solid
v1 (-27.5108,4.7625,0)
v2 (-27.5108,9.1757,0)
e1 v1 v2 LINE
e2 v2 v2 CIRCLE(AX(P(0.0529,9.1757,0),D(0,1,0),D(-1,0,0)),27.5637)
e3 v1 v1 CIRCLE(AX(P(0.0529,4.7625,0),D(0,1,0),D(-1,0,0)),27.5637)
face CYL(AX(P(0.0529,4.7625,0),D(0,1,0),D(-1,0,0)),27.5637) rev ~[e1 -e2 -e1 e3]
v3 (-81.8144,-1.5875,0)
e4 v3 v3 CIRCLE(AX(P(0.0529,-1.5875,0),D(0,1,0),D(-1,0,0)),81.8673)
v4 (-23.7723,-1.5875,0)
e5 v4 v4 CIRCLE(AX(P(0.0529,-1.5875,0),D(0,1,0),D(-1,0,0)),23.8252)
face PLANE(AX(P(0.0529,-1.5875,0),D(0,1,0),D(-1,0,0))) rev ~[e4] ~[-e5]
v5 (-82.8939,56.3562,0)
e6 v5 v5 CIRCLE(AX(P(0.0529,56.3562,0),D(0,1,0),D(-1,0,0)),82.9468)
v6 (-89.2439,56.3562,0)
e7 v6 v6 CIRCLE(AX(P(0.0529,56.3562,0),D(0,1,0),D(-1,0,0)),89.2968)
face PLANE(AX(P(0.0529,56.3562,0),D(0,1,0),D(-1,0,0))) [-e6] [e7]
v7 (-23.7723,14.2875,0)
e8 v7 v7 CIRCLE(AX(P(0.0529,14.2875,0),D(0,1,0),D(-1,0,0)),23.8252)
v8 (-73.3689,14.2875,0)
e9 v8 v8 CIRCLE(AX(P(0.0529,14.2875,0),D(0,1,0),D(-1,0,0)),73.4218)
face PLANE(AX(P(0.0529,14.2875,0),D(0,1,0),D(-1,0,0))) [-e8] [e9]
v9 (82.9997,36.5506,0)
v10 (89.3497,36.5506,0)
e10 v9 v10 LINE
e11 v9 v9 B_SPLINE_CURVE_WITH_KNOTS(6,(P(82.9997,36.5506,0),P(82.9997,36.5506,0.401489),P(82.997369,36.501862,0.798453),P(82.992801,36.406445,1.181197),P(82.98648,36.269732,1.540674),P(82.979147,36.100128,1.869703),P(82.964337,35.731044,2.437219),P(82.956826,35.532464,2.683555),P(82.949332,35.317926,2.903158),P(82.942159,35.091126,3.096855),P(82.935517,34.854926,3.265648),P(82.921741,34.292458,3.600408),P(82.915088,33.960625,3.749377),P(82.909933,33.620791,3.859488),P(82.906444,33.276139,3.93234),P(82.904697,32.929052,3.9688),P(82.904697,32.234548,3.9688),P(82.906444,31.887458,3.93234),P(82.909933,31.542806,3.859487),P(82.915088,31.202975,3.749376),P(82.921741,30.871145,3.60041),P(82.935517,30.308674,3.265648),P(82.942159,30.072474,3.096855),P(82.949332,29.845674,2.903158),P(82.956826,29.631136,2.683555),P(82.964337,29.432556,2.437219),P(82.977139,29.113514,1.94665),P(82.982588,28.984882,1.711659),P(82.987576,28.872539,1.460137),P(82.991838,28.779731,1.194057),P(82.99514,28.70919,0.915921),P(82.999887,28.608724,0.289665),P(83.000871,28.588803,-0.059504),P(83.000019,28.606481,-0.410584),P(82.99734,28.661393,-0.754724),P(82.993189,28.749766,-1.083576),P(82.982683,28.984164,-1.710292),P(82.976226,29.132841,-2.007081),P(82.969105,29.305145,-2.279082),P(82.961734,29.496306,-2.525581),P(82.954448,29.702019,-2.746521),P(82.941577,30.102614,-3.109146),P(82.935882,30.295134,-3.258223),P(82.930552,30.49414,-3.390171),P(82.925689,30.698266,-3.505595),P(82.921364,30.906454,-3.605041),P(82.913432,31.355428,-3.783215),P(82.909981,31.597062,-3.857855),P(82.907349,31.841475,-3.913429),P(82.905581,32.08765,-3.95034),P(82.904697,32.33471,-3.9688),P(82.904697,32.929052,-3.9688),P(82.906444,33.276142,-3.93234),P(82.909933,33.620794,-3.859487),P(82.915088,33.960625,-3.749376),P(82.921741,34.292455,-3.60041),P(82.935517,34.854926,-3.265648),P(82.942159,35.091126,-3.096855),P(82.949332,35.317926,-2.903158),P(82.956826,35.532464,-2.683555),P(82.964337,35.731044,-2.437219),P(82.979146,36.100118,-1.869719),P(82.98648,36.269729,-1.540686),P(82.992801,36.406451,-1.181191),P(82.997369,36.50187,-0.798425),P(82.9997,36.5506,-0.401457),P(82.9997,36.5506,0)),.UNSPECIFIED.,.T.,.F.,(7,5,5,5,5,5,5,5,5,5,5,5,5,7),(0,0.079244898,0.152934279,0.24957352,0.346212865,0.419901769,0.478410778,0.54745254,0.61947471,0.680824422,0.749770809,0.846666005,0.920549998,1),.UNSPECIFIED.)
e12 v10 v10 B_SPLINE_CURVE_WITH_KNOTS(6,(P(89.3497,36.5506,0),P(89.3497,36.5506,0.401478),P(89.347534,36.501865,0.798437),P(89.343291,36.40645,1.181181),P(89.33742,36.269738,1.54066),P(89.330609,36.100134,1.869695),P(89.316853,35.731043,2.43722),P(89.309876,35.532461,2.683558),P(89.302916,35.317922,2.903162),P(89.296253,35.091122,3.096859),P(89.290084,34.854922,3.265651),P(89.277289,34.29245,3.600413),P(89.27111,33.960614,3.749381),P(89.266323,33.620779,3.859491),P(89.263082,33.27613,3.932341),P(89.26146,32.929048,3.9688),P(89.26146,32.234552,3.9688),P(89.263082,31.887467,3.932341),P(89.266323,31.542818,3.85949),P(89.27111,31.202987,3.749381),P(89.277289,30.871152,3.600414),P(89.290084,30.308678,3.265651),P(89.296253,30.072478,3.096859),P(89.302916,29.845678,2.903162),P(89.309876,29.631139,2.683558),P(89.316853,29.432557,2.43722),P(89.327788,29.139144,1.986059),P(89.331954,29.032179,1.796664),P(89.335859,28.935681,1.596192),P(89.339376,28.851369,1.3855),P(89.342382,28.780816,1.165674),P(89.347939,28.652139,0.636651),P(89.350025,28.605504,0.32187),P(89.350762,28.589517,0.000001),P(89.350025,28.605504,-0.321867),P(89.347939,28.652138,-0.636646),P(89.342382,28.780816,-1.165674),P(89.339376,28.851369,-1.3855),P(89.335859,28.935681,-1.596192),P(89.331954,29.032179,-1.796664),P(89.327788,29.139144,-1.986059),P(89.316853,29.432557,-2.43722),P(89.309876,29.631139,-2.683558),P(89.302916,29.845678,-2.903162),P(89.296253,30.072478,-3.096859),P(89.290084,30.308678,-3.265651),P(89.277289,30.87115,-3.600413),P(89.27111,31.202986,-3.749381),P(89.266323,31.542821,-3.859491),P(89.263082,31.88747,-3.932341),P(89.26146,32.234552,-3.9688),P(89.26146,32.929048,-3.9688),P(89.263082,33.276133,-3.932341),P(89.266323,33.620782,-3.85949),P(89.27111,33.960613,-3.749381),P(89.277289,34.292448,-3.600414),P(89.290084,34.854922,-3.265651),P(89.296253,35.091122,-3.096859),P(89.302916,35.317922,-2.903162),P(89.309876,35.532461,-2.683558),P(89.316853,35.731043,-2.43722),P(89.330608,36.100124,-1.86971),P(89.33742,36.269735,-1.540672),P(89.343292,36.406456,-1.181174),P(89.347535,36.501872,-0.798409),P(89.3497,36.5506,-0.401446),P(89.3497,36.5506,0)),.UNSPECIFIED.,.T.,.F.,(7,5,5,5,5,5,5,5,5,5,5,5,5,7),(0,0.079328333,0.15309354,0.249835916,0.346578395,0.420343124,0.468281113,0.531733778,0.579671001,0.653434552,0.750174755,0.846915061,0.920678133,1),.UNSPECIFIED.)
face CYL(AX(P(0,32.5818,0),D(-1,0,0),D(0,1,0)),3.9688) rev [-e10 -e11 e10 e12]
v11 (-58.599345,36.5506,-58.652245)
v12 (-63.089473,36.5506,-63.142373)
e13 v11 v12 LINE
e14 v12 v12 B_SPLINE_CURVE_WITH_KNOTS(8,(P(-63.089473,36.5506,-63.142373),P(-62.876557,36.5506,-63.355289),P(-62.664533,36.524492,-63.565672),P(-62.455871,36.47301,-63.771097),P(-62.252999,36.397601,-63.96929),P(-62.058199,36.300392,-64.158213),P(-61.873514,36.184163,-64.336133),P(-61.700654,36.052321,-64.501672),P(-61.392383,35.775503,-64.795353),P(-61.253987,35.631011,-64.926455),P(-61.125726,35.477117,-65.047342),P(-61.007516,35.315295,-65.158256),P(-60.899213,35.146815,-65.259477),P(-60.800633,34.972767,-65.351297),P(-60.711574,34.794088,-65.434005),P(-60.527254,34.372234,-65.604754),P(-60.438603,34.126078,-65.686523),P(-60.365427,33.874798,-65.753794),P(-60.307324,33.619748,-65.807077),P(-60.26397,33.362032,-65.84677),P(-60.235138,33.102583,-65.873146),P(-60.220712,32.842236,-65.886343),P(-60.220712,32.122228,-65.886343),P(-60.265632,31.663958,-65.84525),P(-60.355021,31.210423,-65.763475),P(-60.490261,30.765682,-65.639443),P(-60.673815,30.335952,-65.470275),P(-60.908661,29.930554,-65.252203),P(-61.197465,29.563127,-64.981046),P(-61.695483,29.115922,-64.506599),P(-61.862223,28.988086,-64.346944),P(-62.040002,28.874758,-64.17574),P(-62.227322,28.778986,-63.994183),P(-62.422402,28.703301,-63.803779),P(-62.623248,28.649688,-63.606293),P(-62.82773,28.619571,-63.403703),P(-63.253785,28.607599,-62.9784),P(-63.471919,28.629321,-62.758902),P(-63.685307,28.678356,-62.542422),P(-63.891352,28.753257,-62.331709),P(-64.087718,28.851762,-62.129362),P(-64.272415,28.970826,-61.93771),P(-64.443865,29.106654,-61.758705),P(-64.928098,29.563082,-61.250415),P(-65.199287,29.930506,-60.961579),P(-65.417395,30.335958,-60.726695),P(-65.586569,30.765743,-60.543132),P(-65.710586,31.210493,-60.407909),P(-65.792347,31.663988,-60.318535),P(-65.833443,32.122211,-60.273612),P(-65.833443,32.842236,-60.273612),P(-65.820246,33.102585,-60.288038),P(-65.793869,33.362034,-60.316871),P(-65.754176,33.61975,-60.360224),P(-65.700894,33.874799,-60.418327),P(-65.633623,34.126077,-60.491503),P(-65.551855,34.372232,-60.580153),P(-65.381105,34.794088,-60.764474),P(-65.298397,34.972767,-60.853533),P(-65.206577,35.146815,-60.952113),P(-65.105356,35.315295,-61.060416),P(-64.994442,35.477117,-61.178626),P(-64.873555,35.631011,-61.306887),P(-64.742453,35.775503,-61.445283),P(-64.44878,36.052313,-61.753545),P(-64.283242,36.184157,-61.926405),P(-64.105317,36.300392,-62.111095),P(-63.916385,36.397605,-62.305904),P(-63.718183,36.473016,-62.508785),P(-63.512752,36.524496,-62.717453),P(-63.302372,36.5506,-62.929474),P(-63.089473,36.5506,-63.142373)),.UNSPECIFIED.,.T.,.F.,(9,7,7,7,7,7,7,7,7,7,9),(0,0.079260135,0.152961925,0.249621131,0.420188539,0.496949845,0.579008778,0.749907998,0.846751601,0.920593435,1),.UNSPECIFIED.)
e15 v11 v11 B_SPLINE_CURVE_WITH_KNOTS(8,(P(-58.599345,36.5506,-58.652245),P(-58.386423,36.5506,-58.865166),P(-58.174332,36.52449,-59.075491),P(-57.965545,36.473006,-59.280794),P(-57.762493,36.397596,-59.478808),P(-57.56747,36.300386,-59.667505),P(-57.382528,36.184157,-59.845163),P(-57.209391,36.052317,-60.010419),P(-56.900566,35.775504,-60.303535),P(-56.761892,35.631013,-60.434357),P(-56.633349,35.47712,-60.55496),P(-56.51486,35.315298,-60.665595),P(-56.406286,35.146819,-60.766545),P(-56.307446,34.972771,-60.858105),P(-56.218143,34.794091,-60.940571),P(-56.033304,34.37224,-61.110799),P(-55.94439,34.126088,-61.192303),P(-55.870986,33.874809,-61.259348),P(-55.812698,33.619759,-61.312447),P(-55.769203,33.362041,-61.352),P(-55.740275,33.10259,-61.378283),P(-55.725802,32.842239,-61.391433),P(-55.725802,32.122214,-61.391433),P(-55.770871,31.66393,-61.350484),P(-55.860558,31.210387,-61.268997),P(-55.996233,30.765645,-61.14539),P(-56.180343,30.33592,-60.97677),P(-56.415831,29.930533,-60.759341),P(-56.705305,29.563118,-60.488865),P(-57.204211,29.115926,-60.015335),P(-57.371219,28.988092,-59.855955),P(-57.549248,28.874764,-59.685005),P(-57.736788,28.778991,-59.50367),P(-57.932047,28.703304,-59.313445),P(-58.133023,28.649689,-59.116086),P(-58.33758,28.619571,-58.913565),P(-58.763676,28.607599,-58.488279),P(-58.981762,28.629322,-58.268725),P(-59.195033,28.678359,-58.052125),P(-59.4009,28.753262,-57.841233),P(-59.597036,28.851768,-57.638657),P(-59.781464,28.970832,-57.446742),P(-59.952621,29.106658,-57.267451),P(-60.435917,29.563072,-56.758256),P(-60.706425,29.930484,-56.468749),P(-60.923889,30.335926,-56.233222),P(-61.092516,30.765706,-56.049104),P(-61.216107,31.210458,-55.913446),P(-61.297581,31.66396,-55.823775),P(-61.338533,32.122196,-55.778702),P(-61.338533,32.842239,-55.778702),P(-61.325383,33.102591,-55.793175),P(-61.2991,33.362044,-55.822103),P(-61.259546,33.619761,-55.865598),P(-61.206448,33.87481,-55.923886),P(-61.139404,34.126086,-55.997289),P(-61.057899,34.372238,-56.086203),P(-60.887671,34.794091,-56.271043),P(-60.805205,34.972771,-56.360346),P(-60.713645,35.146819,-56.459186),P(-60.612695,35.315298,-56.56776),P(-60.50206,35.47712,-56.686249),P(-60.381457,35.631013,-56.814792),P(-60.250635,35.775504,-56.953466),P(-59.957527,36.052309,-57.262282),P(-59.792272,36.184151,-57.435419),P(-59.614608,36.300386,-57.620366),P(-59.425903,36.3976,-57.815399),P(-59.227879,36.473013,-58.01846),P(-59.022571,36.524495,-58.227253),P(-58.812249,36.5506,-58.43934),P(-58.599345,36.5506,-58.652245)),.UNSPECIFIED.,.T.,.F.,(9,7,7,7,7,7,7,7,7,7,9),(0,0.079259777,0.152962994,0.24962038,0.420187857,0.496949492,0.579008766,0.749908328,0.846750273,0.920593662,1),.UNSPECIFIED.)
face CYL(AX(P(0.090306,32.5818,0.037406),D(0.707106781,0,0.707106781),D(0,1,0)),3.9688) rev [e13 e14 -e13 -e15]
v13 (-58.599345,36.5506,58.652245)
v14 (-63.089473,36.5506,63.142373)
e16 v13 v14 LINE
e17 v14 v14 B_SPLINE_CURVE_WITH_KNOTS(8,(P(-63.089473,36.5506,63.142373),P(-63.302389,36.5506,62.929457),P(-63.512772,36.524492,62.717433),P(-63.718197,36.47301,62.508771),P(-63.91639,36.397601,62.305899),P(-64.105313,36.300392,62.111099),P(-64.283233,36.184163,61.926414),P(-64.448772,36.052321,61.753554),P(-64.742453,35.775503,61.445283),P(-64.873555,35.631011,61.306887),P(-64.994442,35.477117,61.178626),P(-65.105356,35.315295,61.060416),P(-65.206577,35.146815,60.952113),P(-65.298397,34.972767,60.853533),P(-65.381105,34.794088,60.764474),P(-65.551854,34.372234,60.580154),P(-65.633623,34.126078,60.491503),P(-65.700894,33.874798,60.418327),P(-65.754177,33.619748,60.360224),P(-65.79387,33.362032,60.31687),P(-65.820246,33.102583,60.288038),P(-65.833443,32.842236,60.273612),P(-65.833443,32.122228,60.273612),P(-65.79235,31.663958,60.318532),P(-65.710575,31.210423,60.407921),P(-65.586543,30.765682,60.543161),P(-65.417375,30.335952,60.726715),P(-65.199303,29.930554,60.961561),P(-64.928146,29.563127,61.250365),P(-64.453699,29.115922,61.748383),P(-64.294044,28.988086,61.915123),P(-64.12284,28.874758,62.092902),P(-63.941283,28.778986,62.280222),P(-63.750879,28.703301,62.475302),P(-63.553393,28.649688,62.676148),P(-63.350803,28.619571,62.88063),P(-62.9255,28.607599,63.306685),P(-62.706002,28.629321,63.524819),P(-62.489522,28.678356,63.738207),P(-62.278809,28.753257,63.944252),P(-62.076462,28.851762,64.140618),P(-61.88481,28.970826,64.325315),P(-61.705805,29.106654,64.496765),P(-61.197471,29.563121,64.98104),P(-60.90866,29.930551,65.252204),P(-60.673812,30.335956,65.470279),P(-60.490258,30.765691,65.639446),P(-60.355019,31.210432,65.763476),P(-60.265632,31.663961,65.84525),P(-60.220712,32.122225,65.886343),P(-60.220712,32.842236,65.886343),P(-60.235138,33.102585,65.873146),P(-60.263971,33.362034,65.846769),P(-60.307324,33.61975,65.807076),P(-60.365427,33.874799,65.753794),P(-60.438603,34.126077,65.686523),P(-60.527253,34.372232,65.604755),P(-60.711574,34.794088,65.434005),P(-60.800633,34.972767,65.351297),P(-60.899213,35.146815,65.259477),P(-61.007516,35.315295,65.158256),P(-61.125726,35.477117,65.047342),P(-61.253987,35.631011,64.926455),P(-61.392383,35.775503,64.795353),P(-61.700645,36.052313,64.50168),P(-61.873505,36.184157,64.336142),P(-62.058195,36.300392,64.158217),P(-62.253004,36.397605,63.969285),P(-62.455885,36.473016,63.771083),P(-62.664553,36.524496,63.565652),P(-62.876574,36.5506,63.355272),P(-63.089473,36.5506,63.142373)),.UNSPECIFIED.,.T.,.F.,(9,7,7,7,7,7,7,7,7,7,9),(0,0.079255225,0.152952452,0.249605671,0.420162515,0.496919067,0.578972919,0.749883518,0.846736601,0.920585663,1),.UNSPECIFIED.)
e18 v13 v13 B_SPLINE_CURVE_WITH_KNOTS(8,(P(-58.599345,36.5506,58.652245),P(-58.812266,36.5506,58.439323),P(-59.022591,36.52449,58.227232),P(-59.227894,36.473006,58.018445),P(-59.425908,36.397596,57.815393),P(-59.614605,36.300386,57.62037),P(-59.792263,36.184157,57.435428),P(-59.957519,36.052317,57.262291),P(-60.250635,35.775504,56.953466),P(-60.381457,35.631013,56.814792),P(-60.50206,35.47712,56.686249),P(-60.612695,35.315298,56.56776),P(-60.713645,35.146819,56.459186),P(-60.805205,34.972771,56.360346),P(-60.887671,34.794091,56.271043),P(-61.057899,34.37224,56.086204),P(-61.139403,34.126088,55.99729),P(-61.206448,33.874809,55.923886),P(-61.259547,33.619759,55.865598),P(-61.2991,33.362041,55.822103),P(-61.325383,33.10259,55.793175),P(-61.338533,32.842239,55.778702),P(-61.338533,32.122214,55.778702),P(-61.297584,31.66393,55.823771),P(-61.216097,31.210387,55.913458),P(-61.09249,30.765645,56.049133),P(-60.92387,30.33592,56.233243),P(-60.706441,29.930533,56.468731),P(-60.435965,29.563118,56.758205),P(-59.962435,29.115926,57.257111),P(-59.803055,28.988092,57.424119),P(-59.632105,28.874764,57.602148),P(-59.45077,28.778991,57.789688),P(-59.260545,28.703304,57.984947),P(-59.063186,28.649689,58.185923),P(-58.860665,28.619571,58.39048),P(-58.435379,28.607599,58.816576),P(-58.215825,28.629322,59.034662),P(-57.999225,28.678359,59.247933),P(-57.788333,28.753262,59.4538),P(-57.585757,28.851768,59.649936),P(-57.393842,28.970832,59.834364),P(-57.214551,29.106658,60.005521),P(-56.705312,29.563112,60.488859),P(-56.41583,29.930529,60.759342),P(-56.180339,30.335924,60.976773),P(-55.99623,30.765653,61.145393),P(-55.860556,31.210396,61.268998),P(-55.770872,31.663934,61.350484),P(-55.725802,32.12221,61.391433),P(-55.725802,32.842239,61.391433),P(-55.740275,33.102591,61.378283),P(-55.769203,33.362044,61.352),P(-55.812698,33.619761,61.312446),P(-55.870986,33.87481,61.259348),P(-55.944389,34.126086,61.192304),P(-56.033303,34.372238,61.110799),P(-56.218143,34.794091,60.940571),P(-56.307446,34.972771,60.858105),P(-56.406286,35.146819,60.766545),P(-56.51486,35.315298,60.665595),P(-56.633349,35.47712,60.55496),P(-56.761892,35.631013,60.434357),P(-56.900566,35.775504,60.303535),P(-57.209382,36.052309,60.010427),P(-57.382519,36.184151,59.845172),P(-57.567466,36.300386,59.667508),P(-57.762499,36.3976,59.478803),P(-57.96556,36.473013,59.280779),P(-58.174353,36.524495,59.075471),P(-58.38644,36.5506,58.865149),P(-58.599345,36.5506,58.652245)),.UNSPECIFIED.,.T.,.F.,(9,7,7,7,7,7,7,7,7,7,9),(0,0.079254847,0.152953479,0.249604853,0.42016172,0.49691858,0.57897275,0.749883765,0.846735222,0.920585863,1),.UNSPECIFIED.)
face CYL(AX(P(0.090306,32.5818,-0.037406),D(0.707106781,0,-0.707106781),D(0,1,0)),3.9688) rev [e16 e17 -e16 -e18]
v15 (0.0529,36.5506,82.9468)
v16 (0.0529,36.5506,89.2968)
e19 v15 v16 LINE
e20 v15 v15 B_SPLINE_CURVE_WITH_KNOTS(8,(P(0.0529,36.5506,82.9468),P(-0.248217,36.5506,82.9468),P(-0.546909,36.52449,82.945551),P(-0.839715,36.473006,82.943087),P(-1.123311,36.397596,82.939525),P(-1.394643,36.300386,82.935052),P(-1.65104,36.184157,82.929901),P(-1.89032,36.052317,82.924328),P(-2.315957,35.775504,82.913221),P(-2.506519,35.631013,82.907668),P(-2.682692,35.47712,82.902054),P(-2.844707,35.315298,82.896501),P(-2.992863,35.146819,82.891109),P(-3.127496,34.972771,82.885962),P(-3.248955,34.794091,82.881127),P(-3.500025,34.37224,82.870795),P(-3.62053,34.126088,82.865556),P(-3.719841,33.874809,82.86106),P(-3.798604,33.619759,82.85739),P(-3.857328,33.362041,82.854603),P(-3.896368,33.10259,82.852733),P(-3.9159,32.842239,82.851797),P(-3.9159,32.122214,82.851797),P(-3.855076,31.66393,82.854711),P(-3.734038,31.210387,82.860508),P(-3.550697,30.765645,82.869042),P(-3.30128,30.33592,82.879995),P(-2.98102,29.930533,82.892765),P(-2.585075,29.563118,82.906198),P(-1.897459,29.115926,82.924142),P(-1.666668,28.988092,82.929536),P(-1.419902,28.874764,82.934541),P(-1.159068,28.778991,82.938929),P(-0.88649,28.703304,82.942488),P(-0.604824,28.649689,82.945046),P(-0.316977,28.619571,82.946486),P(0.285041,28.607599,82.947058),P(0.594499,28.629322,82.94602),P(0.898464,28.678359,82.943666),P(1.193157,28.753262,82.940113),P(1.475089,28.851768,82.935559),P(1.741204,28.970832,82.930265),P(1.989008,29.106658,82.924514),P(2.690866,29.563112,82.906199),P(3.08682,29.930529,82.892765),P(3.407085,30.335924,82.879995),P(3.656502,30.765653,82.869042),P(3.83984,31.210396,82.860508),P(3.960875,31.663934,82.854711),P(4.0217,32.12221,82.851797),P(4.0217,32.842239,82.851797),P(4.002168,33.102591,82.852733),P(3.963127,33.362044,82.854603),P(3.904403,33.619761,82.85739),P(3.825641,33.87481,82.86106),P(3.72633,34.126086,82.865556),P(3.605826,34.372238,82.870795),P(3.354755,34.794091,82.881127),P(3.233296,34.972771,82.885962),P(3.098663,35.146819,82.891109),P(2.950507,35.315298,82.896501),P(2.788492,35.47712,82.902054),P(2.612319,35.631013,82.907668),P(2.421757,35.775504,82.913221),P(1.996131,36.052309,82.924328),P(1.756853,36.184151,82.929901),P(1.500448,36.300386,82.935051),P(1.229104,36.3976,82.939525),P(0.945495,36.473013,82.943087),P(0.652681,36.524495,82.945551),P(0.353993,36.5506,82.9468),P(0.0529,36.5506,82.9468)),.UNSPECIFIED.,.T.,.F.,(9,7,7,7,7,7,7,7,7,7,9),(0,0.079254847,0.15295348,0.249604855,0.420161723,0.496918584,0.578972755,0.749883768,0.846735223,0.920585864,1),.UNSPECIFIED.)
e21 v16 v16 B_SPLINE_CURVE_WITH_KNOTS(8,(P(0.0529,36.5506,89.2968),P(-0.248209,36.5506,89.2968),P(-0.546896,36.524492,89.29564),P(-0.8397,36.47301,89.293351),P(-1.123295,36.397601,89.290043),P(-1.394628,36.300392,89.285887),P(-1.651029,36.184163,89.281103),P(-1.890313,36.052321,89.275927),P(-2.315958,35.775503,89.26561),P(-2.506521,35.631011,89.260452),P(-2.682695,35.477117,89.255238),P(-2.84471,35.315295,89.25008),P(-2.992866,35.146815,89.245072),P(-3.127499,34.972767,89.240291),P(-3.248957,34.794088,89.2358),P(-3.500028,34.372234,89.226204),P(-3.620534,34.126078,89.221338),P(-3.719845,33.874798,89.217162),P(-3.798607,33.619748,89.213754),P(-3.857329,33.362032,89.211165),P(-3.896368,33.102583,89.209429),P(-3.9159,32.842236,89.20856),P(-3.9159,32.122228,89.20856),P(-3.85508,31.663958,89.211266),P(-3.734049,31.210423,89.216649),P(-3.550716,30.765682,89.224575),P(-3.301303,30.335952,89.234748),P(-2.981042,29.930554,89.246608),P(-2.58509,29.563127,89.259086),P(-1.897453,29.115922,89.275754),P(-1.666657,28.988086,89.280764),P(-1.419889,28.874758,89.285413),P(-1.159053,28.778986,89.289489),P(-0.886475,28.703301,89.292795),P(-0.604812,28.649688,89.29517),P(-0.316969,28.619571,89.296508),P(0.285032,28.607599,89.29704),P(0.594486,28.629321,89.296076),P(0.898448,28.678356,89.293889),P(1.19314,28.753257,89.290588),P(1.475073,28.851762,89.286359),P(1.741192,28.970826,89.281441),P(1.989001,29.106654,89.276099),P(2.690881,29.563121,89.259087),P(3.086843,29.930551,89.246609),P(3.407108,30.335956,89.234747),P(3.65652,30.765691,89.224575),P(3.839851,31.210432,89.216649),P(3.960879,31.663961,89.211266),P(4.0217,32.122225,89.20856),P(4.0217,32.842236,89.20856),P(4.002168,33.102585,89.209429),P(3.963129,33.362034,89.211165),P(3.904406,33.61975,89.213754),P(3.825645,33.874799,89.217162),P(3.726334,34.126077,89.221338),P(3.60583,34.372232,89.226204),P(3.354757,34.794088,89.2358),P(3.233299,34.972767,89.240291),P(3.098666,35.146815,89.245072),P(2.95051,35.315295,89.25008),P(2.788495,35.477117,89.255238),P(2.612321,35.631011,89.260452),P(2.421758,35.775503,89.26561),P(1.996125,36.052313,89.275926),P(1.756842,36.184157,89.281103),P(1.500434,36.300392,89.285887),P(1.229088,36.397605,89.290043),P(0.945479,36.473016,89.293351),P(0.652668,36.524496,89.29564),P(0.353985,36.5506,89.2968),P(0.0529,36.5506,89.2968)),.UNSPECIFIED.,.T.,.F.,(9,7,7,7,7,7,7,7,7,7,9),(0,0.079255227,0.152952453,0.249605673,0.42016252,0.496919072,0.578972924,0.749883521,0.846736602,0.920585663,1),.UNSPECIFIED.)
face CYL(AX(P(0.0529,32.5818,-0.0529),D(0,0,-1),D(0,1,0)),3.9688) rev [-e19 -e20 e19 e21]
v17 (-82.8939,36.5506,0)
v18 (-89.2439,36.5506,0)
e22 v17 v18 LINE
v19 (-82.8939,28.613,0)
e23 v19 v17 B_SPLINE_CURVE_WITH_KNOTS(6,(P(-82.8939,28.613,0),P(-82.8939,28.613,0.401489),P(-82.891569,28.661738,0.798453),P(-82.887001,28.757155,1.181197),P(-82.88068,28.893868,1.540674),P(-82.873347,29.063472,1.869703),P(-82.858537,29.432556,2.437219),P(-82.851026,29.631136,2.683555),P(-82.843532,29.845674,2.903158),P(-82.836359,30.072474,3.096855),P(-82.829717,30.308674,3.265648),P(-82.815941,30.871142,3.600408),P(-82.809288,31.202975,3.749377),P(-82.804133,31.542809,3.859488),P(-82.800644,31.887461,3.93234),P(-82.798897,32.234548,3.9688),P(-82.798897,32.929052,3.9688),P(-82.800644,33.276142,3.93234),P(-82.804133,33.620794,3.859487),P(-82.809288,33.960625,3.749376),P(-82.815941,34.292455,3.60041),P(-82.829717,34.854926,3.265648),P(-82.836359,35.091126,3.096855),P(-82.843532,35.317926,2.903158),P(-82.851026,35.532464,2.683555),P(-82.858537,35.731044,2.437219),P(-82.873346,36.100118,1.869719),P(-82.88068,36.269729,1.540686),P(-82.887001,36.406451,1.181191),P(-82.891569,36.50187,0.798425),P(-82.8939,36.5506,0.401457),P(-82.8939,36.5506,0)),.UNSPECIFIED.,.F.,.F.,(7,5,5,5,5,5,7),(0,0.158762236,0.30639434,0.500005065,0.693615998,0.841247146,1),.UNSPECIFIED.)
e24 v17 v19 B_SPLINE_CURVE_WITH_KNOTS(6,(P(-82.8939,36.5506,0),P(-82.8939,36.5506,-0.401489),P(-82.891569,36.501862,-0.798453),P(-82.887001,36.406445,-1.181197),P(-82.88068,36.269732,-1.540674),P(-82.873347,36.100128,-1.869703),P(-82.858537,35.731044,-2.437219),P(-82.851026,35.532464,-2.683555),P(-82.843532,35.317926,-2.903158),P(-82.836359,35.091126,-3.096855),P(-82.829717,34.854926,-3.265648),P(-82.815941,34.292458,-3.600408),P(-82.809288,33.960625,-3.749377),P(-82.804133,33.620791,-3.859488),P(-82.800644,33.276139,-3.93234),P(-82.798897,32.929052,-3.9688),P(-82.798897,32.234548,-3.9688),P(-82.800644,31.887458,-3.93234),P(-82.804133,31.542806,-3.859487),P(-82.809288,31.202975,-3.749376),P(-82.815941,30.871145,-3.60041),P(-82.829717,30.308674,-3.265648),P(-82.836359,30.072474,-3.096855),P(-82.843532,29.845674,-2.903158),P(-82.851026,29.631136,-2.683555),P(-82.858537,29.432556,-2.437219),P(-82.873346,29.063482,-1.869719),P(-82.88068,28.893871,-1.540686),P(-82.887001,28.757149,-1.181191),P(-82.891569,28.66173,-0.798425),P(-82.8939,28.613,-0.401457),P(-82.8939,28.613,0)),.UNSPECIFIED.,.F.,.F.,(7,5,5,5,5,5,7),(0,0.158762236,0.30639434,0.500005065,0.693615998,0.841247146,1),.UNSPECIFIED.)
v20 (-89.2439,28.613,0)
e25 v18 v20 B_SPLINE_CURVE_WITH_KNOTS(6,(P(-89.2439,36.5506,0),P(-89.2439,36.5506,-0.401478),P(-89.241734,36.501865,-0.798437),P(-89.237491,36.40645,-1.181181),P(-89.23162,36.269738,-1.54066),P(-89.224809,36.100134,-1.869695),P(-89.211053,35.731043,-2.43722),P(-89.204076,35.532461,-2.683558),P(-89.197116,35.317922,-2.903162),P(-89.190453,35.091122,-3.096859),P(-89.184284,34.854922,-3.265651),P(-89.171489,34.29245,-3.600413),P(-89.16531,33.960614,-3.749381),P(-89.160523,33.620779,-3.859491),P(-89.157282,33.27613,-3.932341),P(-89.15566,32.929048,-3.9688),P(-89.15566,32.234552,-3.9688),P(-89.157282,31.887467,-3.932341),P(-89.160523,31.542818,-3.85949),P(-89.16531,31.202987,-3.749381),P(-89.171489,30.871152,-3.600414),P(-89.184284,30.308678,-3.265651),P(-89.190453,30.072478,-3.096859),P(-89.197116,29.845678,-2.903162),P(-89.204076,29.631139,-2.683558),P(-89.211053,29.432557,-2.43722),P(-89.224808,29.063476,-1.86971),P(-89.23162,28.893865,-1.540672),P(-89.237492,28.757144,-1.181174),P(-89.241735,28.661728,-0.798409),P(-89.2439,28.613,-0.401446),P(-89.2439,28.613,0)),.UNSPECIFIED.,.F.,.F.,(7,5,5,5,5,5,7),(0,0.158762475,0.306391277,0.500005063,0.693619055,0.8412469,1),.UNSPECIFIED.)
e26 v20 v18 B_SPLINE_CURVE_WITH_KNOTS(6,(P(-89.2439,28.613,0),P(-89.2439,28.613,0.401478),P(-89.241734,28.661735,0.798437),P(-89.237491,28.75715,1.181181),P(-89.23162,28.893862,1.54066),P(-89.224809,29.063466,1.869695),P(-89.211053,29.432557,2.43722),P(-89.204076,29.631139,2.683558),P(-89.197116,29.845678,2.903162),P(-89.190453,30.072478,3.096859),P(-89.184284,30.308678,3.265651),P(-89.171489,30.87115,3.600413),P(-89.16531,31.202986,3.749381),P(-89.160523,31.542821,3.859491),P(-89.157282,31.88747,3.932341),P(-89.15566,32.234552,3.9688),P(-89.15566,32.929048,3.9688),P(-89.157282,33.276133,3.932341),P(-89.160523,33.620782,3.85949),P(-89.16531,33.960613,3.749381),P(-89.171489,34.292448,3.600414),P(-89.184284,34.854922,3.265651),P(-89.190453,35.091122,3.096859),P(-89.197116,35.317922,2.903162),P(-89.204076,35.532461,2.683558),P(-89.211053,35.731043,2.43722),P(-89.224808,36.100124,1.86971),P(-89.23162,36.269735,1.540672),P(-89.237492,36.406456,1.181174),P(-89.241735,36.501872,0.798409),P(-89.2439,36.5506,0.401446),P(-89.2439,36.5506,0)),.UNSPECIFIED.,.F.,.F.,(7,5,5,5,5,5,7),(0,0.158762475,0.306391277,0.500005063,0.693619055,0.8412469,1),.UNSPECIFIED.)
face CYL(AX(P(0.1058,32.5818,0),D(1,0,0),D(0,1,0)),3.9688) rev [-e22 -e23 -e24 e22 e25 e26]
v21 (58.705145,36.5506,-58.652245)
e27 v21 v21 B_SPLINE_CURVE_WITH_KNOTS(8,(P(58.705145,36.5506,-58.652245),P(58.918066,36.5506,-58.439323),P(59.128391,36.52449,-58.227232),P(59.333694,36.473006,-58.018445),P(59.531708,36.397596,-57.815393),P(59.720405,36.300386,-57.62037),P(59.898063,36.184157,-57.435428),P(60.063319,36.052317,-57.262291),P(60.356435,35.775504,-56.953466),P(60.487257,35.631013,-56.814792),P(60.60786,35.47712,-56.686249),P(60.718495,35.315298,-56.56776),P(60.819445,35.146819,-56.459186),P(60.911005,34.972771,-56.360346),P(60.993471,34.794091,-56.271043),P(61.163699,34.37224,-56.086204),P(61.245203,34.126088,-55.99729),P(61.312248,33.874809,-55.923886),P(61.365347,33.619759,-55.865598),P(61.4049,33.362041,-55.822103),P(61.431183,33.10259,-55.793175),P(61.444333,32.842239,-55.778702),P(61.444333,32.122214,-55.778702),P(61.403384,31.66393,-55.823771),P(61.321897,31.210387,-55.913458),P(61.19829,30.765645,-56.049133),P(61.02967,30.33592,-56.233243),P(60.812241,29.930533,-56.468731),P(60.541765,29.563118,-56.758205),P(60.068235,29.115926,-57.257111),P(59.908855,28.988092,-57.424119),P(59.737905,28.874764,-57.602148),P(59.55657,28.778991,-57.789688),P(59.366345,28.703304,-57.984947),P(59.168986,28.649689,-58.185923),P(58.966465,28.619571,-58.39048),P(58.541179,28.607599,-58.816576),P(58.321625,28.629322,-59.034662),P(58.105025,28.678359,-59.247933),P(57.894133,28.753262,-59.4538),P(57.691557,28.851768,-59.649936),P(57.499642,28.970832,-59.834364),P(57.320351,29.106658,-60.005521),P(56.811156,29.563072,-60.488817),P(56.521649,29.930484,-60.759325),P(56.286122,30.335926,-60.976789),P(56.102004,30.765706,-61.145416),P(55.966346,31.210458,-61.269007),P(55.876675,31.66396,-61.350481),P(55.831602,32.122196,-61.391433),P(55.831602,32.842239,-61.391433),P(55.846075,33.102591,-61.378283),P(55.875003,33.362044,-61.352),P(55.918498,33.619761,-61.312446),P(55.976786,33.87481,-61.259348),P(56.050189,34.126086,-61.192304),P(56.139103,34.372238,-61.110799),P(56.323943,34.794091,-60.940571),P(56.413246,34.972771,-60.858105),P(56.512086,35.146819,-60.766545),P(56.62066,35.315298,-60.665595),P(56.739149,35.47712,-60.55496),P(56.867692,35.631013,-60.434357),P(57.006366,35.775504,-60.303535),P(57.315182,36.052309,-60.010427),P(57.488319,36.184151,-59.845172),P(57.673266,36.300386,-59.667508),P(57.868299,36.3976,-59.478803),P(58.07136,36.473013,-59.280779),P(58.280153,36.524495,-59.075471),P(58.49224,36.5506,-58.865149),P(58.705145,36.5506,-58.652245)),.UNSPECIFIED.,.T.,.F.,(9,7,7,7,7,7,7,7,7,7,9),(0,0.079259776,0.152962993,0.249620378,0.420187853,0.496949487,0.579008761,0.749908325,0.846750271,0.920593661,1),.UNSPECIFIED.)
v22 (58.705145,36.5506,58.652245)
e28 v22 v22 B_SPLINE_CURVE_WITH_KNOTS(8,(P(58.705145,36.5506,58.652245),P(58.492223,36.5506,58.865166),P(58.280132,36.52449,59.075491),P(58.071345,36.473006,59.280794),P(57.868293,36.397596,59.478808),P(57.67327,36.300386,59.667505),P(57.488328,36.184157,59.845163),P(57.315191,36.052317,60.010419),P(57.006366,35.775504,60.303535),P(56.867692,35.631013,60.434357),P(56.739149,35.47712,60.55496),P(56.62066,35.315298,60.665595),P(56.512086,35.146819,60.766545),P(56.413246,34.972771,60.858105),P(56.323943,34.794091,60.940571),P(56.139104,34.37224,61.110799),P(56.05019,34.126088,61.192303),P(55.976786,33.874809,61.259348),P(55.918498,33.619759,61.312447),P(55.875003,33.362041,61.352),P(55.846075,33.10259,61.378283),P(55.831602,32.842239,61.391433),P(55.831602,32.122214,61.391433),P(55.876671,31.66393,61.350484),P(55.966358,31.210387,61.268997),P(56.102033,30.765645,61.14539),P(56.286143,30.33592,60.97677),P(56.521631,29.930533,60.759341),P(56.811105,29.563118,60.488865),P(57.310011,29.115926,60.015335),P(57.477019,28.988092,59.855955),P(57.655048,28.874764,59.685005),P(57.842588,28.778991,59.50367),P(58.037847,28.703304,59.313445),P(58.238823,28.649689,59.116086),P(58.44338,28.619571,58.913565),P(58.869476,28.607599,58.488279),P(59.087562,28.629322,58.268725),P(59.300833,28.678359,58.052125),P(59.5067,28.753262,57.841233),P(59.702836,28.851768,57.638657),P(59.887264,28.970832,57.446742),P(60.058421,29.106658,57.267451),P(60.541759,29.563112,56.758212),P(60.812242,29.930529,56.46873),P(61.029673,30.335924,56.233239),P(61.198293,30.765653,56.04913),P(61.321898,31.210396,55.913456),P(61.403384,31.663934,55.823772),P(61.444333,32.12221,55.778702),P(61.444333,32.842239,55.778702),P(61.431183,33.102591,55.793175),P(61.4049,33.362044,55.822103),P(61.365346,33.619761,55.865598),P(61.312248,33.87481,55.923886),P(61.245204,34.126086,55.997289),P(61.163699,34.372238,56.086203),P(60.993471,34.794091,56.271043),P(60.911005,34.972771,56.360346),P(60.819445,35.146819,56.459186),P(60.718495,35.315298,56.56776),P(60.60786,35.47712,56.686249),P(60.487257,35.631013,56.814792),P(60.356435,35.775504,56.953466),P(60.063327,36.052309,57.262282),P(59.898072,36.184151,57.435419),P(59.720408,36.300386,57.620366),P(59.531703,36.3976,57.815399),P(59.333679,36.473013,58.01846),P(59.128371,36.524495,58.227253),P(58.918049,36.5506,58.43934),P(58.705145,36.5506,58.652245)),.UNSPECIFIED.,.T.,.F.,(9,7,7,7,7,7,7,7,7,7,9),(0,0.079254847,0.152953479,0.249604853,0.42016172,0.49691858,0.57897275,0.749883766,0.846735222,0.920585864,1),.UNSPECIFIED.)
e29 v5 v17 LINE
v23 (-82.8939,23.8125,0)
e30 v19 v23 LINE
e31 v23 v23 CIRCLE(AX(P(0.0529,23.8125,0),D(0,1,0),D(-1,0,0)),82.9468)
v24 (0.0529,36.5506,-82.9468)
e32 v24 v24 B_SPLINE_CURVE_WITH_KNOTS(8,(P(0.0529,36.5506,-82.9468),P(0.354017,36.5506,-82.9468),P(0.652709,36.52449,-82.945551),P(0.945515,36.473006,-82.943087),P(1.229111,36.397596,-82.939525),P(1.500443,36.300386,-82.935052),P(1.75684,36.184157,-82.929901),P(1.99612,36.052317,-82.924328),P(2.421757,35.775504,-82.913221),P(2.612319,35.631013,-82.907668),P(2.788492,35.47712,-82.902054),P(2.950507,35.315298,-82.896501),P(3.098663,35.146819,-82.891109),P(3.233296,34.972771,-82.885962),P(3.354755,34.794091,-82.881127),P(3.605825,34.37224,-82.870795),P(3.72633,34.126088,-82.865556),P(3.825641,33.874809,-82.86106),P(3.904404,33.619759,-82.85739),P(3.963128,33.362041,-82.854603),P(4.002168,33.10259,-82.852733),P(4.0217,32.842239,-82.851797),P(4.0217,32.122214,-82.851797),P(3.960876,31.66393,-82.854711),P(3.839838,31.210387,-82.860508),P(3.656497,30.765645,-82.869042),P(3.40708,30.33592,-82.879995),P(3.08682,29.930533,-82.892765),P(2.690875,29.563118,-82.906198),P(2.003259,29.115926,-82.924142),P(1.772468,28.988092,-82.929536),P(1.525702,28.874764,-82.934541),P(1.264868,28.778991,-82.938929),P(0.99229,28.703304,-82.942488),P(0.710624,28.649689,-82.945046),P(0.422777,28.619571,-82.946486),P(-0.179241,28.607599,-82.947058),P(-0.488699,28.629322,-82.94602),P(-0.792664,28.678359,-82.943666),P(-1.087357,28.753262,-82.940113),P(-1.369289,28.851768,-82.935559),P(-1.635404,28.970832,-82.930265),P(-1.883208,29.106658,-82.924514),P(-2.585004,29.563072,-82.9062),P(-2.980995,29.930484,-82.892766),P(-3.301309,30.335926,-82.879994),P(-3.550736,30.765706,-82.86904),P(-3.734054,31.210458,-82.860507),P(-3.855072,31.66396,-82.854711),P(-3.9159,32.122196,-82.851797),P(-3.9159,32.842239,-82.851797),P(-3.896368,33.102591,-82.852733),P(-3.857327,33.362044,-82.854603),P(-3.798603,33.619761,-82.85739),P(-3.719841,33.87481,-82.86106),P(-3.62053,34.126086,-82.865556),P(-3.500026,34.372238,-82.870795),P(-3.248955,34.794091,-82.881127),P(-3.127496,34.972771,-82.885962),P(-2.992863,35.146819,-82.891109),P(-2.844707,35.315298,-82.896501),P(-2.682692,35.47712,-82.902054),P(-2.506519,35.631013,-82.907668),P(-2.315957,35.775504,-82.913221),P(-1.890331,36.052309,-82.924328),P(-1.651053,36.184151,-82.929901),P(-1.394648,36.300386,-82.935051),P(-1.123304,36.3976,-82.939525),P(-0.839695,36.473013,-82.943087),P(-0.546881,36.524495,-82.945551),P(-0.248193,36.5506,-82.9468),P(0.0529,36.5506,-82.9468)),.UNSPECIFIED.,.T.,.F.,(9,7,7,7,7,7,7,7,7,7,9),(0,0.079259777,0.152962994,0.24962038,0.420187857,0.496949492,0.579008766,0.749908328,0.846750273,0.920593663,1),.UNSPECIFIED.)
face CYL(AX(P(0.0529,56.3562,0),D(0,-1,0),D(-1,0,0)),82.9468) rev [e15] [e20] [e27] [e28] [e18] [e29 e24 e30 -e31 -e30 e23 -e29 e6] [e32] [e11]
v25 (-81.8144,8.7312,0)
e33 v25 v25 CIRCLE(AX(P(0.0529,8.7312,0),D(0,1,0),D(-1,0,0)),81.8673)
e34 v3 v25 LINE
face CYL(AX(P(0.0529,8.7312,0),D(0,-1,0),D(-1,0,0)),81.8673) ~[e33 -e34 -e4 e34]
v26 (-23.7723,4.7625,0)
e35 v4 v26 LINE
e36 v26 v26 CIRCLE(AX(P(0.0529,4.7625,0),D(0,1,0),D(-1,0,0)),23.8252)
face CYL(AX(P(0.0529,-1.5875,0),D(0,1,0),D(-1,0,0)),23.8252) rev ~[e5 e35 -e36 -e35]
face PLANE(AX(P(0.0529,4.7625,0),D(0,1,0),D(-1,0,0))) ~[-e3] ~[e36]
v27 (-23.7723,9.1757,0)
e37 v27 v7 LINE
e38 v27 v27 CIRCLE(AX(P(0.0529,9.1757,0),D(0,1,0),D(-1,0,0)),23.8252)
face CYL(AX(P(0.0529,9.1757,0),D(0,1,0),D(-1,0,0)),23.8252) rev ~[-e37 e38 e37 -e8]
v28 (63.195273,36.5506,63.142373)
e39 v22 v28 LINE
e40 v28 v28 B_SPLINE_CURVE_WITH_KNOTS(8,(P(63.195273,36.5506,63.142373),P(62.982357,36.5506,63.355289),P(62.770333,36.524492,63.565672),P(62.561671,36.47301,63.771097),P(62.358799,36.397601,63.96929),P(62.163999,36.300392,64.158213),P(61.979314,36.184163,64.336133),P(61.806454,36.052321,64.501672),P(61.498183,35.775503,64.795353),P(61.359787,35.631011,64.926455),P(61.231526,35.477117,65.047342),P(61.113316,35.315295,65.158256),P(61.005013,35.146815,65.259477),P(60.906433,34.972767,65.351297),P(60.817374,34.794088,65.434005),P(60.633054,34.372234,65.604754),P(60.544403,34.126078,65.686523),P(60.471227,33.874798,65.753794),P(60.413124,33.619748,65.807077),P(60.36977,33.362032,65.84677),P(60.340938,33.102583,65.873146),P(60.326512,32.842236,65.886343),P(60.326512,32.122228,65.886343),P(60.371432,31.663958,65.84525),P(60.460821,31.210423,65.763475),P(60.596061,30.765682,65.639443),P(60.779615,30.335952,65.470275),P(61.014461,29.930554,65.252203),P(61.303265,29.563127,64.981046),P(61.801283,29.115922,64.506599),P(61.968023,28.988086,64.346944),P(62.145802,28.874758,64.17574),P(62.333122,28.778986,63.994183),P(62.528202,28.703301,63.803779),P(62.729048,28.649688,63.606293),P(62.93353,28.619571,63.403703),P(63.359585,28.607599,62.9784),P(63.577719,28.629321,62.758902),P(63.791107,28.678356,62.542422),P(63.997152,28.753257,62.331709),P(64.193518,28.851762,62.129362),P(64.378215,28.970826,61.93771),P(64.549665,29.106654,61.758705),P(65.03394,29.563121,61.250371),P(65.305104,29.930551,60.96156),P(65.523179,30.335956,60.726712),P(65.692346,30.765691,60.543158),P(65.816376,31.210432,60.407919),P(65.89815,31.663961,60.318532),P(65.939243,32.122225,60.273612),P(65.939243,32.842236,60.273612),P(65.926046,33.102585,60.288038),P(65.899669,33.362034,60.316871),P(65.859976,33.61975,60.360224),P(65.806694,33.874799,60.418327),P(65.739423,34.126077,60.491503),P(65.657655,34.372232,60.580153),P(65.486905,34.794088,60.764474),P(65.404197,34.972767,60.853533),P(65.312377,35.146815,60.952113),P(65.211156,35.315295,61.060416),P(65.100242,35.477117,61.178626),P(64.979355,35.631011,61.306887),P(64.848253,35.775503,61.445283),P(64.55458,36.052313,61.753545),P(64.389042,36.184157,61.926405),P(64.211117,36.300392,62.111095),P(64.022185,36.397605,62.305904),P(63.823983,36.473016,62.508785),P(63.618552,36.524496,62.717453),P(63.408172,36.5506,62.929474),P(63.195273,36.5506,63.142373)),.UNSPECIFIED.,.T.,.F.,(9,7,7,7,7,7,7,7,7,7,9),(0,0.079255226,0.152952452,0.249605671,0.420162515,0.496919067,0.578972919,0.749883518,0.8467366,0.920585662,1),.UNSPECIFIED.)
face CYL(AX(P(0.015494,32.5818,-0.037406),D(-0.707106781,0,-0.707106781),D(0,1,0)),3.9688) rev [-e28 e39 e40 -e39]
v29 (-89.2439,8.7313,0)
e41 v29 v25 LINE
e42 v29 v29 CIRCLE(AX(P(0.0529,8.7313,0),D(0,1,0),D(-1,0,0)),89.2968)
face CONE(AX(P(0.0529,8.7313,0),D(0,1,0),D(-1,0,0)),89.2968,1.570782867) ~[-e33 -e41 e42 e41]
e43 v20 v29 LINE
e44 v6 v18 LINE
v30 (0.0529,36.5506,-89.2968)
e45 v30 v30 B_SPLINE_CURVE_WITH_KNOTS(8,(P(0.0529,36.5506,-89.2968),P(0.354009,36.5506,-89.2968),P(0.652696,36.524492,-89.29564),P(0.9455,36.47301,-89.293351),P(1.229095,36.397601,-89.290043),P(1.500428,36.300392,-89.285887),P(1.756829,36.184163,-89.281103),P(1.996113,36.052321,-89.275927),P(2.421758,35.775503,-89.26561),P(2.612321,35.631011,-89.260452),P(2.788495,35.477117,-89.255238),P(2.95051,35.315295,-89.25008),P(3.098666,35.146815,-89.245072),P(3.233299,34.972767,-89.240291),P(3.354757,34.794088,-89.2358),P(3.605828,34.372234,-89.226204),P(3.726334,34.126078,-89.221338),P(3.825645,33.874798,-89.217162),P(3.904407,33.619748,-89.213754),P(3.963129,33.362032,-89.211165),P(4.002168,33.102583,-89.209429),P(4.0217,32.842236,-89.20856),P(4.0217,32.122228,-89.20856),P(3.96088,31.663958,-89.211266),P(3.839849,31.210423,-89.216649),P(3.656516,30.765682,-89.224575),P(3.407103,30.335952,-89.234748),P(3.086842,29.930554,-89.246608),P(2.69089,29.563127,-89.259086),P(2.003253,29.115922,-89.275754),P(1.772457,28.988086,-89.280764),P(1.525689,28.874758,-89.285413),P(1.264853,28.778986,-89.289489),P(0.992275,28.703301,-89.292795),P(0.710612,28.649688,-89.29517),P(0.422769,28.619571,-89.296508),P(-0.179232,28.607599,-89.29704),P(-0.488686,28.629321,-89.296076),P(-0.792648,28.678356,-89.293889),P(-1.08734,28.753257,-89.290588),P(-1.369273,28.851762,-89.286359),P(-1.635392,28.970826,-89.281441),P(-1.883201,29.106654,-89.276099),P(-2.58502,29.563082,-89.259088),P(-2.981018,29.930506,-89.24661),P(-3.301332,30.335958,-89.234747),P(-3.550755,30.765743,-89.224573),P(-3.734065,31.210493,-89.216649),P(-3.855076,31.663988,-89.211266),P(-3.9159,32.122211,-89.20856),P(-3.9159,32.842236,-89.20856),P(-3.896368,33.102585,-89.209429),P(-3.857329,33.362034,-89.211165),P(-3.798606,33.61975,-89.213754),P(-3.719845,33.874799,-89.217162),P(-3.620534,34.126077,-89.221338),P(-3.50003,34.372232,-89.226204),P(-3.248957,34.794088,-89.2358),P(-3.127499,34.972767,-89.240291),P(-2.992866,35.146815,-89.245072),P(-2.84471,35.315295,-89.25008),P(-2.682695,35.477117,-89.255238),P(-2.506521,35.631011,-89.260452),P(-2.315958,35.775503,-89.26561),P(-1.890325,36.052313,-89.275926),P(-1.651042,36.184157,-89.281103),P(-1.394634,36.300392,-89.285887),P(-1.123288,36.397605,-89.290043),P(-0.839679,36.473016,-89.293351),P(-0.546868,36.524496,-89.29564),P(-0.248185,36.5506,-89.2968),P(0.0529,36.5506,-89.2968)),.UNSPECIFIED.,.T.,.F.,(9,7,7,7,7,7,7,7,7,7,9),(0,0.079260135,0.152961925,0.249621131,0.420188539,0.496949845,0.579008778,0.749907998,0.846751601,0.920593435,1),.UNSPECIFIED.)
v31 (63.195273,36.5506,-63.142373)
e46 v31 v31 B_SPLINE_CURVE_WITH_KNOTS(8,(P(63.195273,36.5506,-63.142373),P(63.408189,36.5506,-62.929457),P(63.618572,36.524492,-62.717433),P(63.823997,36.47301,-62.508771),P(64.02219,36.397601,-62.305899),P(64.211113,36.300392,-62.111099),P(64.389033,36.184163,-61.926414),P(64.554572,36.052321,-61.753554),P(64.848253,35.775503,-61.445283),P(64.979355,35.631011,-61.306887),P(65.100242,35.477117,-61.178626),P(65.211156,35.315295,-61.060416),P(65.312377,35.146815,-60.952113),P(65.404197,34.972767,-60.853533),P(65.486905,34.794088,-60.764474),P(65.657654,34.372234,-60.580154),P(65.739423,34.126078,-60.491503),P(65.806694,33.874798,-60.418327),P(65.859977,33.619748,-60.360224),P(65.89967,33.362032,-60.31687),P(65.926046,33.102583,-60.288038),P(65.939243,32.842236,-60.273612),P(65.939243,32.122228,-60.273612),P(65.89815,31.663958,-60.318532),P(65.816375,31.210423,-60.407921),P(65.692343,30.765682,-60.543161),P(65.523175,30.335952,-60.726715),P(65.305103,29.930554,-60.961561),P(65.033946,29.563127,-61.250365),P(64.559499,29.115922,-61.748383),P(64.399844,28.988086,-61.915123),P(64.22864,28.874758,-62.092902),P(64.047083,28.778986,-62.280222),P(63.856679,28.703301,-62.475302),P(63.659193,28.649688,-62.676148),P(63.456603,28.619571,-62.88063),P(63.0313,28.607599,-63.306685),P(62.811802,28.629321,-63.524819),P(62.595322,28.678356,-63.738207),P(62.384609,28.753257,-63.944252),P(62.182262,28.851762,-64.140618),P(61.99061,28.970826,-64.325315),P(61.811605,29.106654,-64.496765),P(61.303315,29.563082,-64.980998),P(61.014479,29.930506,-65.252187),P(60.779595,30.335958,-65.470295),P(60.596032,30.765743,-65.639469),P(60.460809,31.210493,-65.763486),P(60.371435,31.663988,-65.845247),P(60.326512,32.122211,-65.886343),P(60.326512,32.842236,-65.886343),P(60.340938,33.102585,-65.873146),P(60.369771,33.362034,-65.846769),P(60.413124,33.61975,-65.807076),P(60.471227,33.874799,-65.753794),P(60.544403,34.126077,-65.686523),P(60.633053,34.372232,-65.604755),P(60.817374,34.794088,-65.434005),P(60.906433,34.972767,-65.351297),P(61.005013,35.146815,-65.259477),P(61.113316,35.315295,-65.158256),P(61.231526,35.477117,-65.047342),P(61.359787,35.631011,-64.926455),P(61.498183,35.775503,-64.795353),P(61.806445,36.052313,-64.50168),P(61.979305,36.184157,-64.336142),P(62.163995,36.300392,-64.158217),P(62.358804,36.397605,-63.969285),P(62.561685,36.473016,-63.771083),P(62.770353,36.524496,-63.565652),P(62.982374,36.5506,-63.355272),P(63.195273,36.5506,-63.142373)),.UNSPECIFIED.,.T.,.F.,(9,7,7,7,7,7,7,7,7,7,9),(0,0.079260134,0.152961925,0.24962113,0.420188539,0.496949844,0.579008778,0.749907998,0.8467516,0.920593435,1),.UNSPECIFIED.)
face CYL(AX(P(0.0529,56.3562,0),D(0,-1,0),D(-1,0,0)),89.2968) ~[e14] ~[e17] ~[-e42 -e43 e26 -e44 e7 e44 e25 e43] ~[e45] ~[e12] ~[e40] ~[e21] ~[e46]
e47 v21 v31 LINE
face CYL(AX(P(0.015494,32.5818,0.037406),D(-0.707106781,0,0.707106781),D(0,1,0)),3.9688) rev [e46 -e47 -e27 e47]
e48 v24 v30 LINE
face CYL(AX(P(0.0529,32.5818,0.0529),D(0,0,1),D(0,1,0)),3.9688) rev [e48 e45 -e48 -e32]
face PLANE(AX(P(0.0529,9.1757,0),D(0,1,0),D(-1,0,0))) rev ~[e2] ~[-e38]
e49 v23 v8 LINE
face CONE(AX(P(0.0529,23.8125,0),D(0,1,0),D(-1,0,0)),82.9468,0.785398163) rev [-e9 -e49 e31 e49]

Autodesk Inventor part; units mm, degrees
ref_plane "YZ Plane" through (0, 0, 0) normal (1, 0, 0) x (0, 1, 0)
ref_plane "XZ Plane" through (0, 0, 0) normal (0, 1, 0) x (-1, 0, 0)
ref_plane "XY Plane" through (0, 0, 0) normal (0, 0, 1) x (1, 0, 0)
sketch "Sketch1" plane through (0, 0, 0) normal (0, 0, 1) x (1, 0, 0)
  line L0 (-89.2439, 56.3562) -> (-82.8939, 56.3562)
  line L1 (-23.7723, -1.5875) -> (-23.7723, 4.7625)
  line L2 (-23.7723, 4.7625) -> (-27.5108, 4.7625)
  line L3 (-27.5108, 4.7625) -> (-27.5108, 9.1757)
  line L4 (-27.5108, 9.1757) -> (-23.7723, 9.1757)
  line L5 (-23.7723, -1.5875) -> (-23.7723, 4.7625)
  line L6 (-23.7723, 9.1757) -> (-23.7723, 14.2875)
  line L7 (0.0529, 0) -> (0.0529, 21.3316)
  line L8 (-89.2439, 8.7313) -> (-81.8144, 8.7312)
  line L9 (-81.8144, 8.7312) -> (-81.8144, 0)
  line L10 (-89.2439, 56.3562) -> (-89.2439, 8.7313)
  line L11 (-81.8144, 0) -> (-81.8144, -1.5875)
  line L12 (-81.8144, -1.5875) -> (-23.7723, -1.5875)
  line L13 (-23.7723, -1.5875) -> (-23.7723, -1.5875)
  line L14 (-82.8939, 23.8125) -> (-73.3689, 14.2875)
  line L15 (-82.8939, 56.3562) -> (-82.8939, 23.8125)
  line L16 (-73.3689, 14.2875) -> (-23.7723, 14.2875)
  point P0 (0, 0)
  dimension "d3" = 23.8252
  dimension "d8" = 15.875
  dimension "d9" = 6.35
  dimension "d10" = 3.7386
  dimension "d11" = 4.4132
  dimension "d12" = 5.1117
  dimension "d26" = 7.4295
  dimension "d28" = 1.5875
  dimension "d29" = 8.7312
  dimension "d30" = 47.625
  dimension "d31" = 58.0422
  dimension "d32" = 1.5875
  dimension "d35" = 49.5967
  dimension "d37" = 135
  dimension "d40" = 89.2969
  dimension "d41" = 25.4
  dimension "d42" = 32.5438
  dimension "d51" = 6.35
revolve "Revolution3" add sketch "Sketch1" angle 360 about axis through (0.0529, 0, 0) along (0, 1, 0)
sketch "Sketch2" plane through (0, 0, 0) normal (1, 0, 0) x (0, 1, 0)
  line L0 (56.3562, -82.9469) -> (56.3562, 82.9469) projected
  circle A0 centre (32.5818, 0) radius 3.9688
  line L1 (56.3562, 0) -> (32.5818, 0)
  point P0 (0, 0)
  dimension "d45" = 7.9375
  dimension "d53" = 23.7744
extrude "Extrusion1" cut sketch "Sketch2" along normal blind 207.9625
pattern_circular "Circular Pattern1" count 8 over 360 about axis through (0.0529, 40.0844, 0) along (0, 1, 0) of "Extrusion1"
properties part number "Forward Bulkhead" material "Aluminum 6061 T6 0 Cold Formed"
